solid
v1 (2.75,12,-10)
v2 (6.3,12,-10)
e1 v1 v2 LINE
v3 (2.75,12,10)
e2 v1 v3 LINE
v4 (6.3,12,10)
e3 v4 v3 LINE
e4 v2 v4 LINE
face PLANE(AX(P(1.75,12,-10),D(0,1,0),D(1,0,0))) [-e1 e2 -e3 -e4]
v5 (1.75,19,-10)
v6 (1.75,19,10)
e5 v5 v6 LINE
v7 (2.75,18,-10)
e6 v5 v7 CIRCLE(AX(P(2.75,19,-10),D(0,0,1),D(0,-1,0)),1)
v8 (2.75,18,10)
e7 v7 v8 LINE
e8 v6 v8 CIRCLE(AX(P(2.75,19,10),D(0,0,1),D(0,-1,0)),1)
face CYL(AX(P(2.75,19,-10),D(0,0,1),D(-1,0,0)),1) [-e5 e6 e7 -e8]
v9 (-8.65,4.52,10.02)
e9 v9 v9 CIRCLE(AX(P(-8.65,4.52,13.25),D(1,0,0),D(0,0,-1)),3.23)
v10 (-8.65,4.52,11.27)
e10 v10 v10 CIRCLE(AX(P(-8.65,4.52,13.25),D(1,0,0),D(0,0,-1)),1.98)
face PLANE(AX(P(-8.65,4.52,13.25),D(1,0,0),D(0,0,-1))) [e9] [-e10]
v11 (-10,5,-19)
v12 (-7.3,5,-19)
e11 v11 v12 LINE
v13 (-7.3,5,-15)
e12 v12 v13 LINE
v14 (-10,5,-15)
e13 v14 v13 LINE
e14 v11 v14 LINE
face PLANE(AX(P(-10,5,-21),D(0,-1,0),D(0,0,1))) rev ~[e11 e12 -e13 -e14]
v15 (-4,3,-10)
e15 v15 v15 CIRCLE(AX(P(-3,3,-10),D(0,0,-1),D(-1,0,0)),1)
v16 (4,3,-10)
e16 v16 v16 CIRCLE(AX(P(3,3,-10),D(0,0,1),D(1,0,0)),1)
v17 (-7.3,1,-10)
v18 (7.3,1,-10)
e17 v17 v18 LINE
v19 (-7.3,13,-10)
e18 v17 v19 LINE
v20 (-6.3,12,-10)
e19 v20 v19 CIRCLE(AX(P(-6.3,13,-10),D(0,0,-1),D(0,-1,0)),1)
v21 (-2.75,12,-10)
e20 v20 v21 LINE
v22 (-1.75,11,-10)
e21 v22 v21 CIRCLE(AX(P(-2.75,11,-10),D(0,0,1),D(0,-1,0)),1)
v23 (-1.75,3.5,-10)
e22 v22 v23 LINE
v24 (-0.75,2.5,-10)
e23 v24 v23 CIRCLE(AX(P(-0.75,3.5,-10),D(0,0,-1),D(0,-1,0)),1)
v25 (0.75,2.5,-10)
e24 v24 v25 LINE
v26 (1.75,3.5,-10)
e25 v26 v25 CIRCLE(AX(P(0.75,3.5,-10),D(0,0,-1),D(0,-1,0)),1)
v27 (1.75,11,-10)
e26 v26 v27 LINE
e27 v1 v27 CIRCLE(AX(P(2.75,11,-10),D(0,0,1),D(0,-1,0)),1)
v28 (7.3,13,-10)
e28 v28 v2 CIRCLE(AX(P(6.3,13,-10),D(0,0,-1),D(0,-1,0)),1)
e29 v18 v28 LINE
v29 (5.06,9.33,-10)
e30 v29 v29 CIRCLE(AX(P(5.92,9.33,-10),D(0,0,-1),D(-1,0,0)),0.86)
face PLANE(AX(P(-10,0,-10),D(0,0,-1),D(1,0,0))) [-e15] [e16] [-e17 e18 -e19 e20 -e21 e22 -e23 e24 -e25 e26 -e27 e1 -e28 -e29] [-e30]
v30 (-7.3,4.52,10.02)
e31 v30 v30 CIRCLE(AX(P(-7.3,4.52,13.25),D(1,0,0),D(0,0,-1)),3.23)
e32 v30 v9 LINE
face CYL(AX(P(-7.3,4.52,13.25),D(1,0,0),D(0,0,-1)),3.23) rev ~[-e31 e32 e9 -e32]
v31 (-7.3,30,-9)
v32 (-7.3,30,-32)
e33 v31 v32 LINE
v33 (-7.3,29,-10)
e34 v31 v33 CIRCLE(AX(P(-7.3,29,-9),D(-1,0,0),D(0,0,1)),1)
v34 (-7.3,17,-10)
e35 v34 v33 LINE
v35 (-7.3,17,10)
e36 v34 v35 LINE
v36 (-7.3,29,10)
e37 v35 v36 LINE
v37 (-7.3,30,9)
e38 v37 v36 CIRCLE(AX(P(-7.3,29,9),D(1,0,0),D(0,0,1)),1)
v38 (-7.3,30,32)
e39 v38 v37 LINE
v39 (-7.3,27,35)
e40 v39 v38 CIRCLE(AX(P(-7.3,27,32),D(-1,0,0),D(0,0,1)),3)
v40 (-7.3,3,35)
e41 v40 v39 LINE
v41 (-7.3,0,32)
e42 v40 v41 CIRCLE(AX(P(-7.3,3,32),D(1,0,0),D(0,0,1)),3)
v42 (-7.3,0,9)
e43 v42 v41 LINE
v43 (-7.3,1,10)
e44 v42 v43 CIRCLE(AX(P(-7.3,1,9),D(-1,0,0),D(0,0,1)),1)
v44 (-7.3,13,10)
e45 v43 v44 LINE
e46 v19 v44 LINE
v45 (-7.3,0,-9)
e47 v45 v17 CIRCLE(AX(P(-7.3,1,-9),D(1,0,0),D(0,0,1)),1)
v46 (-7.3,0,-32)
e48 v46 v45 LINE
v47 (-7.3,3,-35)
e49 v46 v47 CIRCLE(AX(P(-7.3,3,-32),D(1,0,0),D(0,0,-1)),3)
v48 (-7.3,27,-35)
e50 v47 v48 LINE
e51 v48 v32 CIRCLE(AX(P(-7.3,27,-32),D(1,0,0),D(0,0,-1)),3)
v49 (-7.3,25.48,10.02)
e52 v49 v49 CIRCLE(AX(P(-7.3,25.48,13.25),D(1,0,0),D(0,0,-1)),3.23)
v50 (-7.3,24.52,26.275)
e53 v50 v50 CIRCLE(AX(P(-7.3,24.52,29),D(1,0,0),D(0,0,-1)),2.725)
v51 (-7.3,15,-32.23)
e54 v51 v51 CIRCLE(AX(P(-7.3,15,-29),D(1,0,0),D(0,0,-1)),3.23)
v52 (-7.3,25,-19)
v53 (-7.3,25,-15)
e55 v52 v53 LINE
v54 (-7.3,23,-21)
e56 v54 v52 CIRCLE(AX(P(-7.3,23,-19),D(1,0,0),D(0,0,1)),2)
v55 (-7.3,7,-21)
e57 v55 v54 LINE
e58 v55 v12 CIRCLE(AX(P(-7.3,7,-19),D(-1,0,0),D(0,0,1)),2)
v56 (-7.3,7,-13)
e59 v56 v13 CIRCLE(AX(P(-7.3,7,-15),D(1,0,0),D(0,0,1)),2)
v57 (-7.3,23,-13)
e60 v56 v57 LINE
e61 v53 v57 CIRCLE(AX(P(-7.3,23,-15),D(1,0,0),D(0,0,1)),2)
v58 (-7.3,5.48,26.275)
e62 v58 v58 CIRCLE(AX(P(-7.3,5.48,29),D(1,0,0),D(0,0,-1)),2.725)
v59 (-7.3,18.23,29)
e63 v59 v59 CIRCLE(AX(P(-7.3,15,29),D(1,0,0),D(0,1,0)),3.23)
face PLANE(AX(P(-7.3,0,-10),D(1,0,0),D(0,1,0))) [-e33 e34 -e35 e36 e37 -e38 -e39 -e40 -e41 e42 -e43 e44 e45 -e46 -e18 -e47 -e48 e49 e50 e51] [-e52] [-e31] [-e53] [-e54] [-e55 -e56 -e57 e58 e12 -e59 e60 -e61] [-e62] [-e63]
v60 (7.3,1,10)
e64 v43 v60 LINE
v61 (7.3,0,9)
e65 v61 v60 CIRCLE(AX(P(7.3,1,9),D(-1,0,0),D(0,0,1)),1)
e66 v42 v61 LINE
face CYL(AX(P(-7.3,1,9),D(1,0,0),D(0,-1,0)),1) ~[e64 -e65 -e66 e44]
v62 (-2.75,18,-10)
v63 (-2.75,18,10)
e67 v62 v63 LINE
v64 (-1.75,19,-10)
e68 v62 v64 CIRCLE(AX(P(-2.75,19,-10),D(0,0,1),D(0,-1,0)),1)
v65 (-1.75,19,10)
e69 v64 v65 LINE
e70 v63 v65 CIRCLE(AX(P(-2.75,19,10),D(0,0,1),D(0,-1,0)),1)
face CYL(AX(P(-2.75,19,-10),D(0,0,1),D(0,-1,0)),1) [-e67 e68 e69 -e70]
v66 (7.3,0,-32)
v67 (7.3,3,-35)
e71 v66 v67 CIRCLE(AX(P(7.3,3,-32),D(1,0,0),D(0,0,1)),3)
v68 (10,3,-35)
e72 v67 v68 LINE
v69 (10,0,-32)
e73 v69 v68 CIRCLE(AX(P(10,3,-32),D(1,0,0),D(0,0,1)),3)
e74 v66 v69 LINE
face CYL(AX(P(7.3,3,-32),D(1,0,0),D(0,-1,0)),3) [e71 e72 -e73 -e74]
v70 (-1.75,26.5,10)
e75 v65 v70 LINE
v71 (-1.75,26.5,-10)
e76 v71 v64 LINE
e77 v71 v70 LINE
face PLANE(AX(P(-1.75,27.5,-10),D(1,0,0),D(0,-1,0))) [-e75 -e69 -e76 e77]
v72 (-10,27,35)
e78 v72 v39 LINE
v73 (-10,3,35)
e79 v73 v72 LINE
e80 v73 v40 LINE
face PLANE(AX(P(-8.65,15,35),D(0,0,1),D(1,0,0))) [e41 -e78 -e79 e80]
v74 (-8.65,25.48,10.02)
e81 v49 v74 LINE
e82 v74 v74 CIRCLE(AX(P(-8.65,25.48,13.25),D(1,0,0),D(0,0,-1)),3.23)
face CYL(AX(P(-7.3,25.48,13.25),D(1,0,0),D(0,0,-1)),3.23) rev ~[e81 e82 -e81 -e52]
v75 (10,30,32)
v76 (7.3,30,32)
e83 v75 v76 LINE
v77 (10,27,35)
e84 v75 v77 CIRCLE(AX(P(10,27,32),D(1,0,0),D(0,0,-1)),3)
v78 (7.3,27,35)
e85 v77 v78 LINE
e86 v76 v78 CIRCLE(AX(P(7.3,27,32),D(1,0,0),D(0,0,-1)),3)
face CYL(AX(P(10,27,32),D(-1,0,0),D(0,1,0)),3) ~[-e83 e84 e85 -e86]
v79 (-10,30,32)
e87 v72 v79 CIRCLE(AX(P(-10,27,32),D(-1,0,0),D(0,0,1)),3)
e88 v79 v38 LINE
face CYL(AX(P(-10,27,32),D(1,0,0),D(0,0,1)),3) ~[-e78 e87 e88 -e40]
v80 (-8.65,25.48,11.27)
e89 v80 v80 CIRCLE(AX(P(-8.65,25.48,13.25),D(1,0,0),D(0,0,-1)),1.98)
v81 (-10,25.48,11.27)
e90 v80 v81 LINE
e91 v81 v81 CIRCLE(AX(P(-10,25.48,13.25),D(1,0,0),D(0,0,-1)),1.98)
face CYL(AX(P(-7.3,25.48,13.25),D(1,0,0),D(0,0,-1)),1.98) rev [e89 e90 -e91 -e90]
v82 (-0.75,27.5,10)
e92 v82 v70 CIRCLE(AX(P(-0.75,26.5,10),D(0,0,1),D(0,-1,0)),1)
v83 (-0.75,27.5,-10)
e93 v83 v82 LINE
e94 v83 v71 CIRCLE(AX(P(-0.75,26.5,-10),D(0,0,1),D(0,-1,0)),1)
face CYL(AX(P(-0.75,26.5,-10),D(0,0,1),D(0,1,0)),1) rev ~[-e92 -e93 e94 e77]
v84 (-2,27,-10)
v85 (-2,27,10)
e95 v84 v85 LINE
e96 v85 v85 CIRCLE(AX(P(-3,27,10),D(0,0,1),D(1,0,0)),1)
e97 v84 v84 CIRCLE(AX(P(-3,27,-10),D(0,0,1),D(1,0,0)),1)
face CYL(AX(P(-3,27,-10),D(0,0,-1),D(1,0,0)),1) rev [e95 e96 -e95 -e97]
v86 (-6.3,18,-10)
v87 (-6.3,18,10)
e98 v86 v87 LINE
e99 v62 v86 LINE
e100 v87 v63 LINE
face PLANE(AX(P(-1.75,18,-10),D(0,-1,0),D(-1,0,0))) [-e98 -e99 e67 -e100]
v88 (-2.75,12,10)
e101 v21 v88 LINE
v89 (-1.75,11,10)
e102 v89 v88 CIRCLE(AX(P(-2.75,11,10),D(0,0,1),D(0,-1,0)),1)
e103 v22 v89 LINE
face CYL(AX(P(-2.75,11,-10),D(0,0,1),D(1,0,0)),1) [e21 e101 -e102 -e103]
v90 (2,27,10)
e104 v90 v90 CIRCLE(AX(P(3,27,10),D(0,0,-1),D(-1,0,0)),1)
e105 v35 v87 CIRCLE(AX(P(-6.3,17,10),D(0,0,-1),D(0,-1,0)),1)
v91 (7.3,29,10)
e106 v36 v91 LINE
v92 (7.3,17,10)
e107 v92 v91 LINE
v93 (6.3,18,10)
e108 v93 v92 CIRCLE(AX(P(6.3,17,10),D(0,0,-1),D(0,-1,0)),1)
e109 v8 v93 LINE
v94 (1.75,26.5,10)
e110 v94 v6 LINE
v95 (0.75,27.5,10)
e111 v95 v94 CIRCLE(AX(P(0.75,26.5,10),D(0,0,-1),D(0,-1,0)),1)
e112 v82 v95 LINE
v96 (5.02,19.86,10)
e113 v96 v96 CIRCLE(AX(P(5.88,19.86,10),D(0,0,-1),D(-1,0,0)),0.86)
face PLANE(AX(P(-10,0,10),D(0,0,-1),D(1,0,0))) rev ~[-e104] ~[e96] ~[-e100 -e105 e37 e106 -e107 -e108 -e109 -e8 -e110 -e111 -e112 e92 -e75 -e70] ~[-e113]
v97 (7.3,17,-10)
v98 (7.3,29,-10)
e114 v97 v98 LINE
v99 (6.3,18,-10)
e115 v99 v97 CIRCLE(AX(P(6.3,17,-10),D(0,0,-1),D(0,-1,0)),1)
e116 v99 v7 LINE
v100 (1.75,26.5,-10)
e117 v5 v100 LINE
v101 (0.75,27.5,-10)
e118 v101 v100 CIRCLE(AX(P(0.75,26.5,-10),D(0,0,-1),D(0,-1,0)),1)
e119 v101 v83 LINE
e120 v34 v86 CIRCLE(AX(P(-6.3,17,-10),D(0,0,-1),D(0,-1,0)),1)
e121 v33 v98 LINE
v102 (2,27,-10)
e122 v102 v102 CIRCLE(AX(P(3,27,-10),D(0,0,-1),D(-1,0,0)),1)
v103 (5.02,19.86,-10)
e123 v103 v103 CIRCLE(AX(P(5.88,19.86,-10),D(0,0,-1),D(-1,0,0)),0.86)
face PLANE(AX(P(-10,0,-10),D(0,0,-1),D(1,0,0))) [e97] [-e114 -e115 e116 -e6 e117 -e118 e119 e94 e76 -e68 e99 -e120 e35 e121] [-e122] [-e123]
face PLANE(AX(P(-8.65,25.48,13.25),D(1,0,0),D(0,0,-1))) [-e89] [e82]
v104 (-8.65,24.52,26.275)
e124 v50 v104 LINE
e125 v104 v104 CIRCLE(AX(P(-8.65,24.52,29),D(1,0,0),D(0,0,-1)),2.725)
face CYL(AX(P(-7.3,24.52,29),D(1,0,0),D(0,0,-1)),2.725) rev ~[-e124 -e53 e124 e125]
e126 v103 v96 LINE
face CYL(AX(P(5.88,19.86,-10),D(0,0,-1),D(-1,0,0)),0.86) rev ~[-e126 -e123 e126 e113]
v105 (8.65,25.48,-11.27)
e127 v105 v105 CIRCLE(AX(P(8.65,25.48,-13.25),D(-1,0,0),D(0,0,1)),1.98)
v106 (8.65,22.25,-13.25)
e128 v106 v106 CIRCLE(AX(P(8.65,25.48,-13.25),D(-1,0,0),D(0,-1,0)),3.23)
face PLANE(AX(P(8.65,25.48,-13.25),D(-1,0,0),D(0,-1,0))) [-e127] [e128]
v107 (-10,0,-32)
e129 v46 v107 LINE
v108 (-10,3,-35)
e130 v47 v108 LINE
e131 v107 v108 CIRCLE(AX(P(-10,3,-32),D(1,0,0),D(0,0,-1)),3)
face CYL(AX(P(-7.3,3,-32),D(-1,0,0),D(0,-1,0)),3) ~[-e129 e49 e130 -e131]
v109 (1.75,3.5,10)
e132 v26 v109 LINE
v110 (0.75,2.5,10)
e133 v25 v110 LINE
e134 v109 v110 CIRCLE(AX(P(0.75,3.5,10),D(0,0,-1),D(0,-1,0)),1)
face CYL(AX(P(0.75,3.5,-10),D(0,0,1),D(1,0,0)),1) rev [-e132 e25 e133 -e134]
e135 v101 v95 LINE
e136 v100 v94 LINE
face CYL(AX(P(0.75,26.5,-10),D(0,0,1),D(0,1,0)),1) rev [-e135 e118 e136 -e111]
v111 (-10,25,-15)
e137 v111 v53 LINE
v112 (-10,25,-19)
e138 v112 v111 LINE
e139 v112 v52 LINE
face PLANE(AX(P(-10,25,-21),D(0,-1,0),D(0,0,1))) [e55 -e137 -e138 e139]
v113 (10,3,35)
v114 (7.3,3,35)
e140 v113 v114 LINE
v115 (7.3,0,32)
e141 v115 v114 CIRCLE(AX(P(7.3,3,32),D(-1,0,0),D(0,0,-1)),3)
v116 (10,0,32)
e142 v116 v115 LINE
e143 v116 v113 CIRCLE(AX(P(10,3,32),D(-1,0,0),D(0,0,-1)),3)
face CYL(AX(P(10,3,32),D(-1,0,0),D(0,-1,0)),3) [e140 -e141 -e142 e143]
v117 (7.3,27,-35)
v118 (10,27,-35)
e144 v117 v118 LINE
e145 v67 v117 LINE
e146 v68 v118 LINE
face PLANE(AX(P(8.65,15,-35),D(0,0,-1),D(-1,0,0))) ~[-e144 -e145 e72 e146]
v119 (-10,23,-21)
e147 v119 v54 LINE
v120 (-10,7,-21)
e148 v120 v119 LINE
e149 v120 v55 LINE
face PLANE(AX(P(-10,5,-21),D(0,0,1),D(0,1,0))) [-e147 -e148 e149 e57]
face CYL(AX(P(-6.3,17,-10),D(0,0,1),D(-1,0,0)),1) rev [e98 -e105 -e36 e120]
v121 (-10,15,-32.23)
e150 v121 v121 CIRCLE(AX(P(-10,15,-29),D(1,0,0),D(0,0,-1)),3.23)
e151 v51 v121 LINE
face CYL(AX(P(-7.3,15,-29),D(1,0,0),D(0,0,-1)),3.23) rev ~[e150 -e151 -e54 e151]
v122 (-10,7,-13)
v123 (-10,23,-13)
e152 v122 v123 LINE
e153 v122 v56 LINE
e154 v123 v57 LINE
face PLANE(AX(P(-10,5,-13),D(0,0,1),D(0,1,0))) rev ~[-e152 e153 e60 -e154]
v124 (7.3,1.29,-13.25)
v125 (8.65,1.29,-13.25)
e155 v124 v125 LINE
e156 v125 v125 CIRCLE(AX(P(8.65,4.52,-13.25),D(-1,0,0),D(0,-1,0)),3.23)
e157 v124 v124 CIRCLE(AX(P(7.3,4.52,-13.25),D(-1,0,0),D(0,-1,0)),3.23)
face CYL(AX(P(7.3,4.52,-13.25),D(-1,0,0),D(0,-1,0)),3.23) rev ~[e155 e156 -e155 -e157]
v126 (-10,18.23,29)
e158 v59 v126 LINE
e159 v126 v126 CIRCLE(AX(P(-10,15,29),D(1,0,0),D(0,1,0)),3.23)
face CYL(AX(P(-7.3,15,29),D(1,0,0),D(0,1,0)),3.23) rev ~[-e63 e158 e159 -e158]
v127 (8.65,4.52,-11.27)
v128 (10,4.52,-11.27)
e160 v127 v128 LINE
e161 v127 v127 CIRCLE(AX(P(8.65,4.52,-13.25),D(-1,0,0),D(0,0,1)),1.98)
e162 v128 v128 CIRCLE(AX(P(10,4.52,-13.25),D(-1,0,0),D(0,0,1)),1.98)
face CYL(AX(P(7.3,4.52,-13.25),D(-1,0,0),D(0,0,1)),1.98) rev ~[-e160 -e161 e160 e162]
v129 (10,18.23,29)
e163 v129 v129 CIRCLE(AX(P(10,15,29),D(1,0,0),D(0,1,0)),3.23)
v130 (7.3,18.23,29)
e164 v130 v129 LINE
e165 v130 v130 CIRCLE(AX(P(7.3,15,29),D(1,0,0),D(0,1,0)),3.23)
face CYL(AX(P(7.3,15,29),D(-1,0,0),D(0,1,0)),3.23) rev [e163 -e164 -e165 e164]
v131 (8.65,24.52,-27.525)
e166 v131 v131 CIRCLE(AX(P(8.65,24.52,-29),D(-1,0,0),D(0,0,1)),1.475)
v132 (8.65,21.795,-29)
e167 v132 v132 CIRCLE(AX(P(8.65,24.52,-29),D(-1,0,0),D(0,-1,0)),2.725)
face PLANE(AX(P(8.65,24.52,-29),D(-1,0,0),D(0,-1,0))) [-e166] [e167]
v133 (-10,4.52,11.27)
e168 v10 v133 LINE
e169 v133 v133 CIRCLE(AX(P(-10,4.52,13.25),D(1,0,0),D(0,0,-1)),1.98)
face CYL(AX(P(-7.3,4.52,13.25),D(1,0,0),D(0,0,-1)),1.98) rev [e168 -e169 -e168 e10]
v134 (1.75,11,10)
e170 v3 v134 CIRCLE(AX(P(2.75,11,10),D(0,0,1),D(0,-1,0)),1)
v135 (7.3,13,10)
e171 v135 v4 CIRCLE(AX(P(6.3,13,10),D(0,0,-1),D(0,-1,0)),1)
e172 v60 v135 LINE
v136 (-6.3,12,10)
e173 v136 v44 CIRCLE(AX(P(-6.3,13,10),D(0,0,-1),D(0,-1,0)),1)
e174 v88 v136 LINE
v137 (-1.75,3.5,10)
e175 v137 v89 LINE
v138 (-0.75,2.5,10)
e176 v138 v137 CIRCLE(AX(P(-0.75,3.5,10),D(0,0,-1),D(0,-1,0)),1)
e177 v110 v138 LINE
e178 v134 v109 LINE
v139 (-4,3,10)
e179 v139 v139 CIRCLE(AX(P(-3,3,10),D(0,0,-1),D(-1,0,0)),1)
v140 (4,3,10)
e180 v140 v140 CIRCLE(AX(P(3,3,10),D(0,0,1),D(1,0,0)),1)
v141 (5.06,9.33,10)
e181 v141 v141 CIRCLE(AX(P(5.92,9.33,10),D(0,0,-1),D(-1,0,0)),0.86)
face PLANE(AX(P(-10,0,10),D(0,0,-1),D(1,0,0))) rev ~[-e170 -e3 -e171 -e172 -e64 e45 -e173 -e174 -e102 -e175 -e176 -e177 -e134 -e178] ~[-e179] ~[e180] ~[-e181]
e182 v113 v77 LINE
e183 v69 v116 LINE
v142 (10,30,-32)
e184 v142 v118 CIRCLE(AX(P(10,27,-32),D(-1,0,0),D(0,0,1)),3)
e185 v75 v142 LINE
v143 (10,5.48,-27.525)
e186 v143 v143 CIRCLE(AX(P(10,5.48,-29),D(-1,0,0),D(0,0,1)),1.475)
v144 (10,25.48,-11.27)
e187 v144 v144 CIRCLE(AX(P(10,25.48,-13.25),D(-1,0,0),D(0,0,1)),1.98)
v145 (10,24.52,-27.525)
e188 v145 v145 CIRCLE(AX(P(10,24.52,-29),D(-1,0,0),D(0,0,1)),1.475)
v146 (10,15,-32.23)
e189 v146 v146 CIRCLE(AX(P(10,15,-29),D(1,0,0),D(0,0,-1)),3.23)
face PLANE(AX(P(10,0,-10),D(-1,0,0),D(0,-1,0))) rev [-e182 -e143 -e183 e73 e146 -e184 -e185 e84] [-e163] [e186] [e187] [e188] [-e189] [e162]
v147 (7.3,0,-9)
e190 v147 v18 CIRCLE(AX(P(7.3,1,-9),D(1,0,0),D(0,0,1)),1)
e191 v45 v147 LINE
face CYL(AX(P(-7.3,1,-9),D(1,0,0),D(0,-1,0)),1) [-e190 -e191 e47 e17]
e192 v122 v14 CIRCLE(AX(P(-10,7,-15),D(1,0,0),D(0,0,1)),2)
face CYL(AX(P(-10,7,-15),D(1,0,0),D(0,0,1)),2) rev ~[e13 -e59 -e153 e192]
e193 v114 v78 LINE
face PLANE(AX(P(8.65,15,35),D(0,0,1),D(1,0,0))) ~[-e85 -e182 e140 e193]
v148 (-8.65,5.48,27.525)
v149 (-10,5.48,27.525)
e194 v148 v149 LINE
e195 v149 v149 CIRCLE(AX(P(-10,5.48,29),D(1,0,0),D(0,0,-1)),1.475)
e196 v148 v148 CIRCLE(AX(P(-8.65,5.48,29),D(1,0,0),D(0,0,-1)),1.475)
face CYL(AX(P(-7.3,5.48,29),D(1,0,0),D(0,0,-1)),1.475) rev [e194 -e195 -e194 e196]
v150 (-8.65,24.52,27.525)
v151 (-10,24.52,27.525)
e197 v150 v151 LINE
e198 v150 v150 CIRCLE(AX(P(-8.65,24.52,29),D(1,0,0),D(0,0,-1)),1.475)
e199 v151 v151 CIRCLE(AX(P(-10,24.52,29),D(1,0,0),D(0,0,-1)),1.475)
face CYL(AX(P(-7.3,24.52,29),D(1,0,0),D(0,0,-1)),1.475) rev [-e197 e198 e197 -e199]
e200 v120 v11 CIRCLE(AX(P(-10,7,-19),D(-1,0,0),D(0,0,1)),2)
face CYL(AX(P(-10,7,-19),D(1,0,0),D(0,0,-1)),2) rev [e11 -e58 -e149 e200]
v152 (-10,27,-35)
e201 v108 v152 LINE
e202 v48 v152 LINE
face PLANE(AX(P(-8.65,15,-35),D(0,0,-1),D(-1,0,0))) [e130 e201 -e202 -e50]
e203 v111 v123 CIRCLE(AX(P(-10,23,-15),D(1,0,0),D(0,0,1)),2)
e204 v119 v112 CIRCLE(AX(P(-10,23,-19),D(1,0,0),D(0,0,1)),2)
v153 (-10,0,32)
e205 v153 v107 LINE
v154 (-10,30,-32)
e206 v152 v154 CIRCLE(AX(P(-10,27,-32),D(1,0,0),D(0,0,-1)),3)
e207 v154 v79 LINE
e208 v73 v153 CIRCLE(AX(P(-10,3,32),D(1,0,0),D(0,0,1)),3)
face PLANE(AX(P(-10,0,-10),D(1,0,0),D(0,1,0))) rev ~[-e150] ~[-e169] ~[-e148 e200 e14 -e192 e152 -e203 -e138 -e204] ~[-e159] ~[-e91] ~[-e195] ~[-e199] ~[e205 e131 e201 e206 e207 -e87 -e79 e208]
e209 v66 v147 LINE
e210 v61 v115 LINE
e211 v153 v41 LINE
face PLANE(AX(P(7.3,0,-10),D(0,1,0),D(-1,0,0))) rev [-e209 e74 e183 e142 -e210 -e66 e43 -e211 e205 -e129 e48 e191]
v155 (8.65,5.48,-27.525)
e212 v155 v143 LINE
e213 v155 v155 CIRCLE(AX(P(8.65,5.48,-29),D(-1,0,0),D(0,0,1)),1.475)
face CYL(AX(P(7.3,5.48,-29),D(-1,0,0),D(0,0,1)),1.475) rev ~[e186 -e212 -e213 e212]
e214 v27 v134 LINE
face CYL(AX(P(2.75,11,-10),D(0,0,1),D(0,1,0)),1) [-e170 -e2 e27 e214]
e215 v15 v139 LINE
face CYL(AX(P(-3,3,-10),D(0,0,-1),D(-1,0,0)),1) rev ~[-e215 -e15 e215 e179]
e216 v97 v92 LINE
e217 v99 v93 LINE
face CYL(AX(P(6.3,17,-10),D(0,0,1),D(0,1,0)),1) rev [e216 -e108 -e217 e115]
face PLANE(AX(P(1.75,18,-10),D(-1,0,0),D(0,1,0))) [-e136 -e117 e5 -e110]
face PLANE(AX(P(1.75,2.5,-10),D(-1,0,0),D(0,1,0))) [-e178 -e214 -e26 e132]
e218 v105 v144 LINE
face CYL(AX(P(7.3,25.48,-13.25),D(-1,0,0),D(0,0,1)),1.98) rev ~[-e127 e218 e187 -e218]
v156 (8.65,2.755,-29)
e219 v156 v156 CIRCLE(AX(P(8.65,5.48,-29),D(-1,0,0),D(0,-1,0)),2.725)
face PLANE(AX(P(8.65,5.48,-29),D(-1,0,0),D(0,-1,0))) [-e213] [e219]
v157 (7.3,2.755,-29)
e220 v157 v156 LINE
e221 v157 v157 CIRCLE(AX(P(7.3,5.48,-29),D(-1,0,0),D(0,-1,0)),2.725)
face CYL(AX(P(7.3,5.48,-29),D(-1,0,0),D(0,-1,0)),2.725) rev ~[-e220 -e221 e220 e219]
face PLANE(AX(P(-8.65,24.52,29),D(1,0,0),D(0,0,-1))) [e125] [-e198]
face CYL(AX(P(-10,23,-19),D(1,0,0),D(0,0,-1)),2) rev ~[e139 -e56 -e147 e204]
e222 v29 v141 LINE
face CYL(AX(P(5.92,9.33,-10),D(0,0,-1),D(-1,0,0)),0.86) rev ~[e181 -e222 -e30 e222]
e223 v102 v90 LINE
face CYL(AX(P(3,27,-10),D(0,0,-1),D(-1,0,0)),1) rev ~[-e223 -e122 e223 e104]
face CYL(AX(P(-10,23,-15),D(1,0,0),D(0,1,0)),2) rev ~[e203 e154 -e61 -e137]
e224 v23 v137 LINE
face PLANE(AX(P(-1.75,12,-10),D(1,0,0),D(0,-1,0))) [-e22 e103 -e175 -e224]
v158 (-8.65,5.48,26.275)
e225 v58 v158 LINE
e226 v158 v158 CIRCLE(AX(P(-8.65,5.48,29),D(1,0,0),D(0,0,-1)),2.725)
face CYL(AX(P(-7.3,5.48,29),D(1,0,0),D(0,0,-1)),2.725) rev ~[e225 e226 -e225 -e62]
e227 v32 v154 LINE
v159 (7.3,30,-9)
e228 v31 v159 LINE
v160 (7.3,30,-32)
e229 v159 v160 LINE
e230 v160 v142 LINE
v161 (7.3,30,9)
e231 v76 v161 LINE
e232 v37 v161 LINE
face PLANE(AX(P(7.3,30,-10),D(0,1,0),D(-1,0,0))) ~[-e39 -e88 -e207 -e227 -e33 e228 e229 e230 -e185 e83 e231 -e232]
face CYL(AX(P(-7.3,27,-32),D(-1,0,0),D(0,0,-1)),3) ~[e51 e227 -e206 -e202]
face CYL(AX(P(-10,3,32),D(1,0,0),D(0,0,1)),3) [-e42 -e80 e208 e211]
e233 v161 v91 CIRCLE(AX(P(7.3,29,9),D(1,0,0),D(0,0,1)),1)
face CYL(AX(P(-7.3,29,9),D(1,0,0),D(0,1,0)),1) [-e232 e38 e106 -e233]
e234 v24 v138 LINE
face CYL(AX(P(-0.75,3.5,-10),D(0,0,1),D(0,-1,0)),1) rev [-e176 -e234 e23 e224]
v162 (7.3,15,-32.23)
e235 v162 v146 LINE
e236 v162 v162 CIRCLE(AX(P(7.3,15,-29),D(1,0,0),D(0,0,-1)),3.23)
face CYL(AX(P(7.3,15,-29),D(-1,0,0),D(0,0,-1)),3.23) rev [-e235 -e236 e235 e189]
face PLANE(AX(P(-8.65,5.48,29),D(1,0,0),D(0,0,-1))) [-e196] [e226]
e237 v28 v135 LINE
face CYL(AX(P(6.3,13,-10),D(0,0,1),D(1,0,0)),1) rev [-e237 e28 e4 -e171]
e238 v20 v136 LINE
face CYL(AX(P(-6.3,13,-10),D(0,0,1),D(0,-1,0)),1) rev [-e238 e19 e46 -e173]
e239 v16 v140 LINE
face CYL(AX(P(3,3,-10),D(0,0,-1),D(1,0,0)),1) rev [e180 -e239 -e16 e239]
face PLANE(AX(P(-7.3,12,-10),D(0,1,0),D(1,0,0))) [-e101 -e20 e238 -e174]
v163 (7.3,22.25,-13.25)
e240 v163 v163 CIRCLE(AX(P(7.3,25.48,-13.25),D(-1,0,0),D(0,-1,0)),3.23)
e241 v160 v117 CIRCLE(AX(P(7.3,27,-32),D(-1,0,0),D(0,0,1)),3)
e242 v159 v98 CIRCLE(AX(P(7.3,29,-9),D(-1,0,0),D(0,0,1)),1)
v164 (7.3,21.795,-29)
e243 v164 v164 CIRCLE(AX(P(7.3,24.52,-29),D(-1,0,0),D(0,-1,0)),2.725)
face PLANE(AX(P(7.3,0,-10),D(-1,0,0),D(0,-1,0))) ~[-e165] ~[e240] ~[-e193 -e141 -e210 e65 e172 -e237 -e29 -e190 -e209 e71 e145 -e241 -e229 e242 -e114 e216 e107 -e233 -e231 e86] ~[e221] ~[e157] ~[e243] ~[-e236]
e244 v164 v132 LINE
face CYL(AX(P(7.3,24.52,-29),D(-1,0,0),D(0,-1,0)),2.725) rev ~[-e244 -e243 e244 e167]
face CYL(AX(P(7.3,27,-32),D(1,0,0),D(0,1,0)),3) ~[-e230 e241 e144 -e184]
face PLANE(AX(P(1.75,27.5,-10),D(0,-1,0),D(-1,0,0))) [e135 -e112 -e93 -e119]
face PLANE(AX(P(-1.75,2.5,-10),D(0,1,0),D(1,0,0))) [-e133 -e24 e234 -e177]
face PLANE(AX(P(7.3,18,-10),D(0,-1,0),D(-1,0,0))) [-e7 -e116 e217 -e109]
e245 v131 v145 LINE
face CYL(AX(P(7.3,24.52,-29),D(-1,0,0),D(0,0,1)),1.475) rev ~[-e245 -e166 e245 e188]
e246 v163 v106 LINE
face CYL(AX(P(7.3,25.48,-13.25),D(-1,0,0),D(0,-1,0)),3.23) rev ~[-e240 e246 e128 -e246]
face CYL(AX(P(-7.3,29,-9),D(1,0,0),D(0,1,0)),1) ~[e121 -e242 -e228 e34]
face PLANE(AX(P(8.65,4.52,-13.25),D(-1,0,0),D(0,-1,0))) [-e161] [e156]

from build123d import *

# Parameters (mm, degrees)
SKETCH1_W             = 20
SKETCH1_H             = 20
BOSS_EXTRUDE3_DEPTH   = 30
CUT_EXTRUDE11_REACH   = 39.417
SKETCH10_R            = 0.86
FILLET4_R             = 1
SKETCH12_W            = 2.7
SKETCH12_H            = 30
BOSS_EXTRUDE13_DEPTH  = 25
CUT_EXTRUDE13_REACH   = 51.237
SKETCH14_R            = 3.23
FILLET6_R             = 3
SKETCH16_W            = 2.7
SKETCH16_H            = 30
BOSS_EXTRUDE14_DEPTH  = 25
CUT_EXTRUDE14_REACH   = 51.237
SKETCH17_R            = 3.23
FILLET11_R            = 3
FILLET6_OF_MIRROR1_R  = 3
FILLET11_OF_MIRROR1_R = 3
FILLET12_R            = 1
CUT_EXTRUDE15_REACH   = 57
SKETCH18_R            = 1
CUT_EXTRUDE16_REACH   = 51.237
SKETCH20_R            = 1.98
SKETCH20_R_2          = 1.475
CUT_EXTRUDE17_REACH   = 56.668
SKETCH21_R            = 1.98
SKETCH21_R_2          = 1.475
SKETCH22_R            = 2.725
SKETCH22_R_2          = 3.23
CUT_EXTRUDE18_DEPTH   = 1.35
SKETCH23_R            = 2.725
SKETCH23_R_2          = 3.23
CUT_EXTRUDE19_DEPTH   = 1.35
CUT_EXTRUDE20_REACH   = 52.249
SKETCH24_W            = 8
SKETCH24_H            = 20
FILLET13_R            = 2


with BuildPart() as part:
    # Sketch1 → Boss-Extrude3 (new body)
    with BuildSketch(Plane(origin=(0, 0, 0), x_dir=(1, 0, 0), z_dir=(0, 1, 0))):
        Rectangle(SKETCH1_W, SKETCH1_H)
    extrude(amount=BOSS_EXTRUDE3_DEPTH)

    # Sketch10 → Cut-Extrude11 (cut, up to next)
    with BuildSketch(Plane(origin=(0, 0, -10), x_dir=(-1, 0, 0), z_dir=(0, 0, -1)), mode=Mode.PRIVATE) as cut_extrude11_sk1:
        with Locations((-5.88, 19.86)):
            Circle(SKETCH10_R)
    cut_extrude11_tool1 = extrude(cut_extrude11_sk1.sketch, amount=-CUT_EXTRUDE11_REACH, mode=Mode.PRIVATE) & part.part
    # Sketch10 → Cut-Extrude11 (cut, up to next)
    with BuildSketch(Plane(origin=(0, 0, -10), x_dir=(-1, 0, 0), z_dir=(0, 0, -1)), mode=Mode.PRIVATE) as cut_extrude11_sk2:
        with Locations((-5.92, 9.33)):
            Circle(SKETCH10_R)
    cut_extrude11_tool2 = extrude(cut_extrude11_sk2.sketch, amount=-CUT_EXTRUDE11_REACH, mode=Mode.PRIVATE) & part.part
    # Sketch10 → Cut-Extrude11 (cut, up to next)
    with BuildSketch(Plane(origin=(0, 0, -10), x_dir=(-1, 0, 0), z_dir=(0, 0, -1)), mode=Mode.PRIVATE) as cut_extrude11_sk3:
        Polygon((-1.75, 27.5), (1.75, 27.5), (1.75, 18), (7.3, 18), (7.3, 12), (1.75, 12), (1.75, 2.5), (-1.75, 2.5), (-1.75, 12), (-7.3, 12), (-7.3, 18), (-1.75, 18), align=None)
    cut_extrude11_tool3 = extrude(cut_extrude11_sk3.sketch, amount=-CUT_EXTRUDE11_REACH, mode=Mode.PRIVATE) & part.part
    add(cut_extrude11_tool1.solids().sort_by_distance((5.88, 19.86, -10))[0], mode=Mode.SUBTRACT)
    add(cut_extrude11_tool2.solids().sort_by_distance((5.92, 9.33, -10))[0], mode=Mode.SUBTRACT)
    add(cut_extrude11_tool3.solids().sort_by_distance((0, 15, -10))[0], mode=Mode.SUBTRACT)

    # Fillet4
    fillet4_edges = [part.edges().sort_by_distance(p)[0] for p in [
        (-1.75, 2.5, 0),
        (1.75, 2.5, 0),
        (1.75, 12, 0),
        (7.3, 12, 0),
        (7.3, 18, 0),
        (1.75, 18, 0),
        (1.75, 27.5, 0),
        (-1.75, 27.5, 0),
        (-1.75, 18, 0),
        (-7.3, 18, 0),
        (-7.3, 12, 0),
        (-1.75, 12, 0),
    ]]
    fillet(fillet4_edges, radius=FILLET4_R)

    # Sketch12 → Boss-Extrude13 (add)
    with BuildSketch(Plane.XY.offset(10)):
        with Locations((-8.65, 15)):
            Rectangle(SKETCH12_W, SKETCH12_H)
    boss_extrude13 = extrude(amount=BOSS_EXTRUDE13_DEPTH)

    # Sketch14 → Cut-Extrude13 (cut, up to next)
    with BuildSketch(Plane(origin=(-7.3, 0, 0), x_dir=(0, 0, -1), z_dir=(1, 0, 0)), mode=Mode.PRIVATE) as cut_extrude13_sk1:
        with Locations(Location((-29, 15, 0), (0, 0, 90))):
            Circle(SKETCH14_R)
    cut_extrude13_tool1 = extrude(cut_extrude13_sk1.sketch, amount=-CUT_EXTRUDE13_REACH, mode=Mode.PRIVATE) & part.part
    cut_extrude13 = cut_extrude13_tool1.solids().sort_by_distance((-7.3, 15, 29))[0]
    add(cut_extrude13, mode=Mode.SUBTRACT)

    # Fillet6
    fillet6_edges = [part.edges().sort_by_distance(p)[0] for p in [
        (-8.65, 0, 35),
        (-8.65, 30, 35),
    ]]
    fillet(fillet6_edges, radius=FILLET6_R)

    # Sketch16 → Boss-Extrude14 (add)
    with BuildSketch(Plane(origin=(0, 0, -10), x_dir=(-1, 0, 0), z_dir=(0, 0, -1))):
        with Locations((8.65, 15)):
            Rectangle(SKETCH16_W, SKETCH16_H)
    boss_extrude14 = extrude(amount=BOSS_EXTRUDE14_DEPTH)

    # Sketch17 → Cut-Extrude14 (cut, up to next)
    with BuildSketch(Plane(origin=(-7.3, 0, 0), x_dir=(0, 0, -1), z_dir=(1, 0, 0)), mode=Mode.PRIVATE) as cut_extrude14_sk1:
        with Locations((29, 15)):
            Circle(SKETCH17_R)
    cut_extrude14_tool1 = extrude(cut_extrude14_sk1.sketch, amount=-CUT_EXTRUDE14_REACH, mode=Mode.PRIVATE) & part.part
    cut_extrude14 = cut_extrude14_tool1.solids().sort_by_distance((-7.3, 15, -29))[0]
    add(cut_extrude14, mode=Mode.SUBTRACT)

    # Fillet11
    fillet11_edges = [part.edges().sort_by_distance(p)[0] for p in [
        (-8.65, 30, -35),
        (-8.65, 0, -35),
    ]]
    fillet(fillet11_edges, radius=FILLET11_R)

    # Mirror1: Boss-Extrude13, Cut-Extrude13, Boss-Extrude14, Cut-Extrude14 across plane
    add(boss_extrude13.mirror(Plane(origin=(0, 0, 0), x_dir=(0, 0, 1), z_dir=(1, 0, 0))))
    add(cut_extrude13.mirror(Plane(origin=(0, 0, 0), x_dir=(0, 0, 1), z_dir=(1, 0, 0))), mode=Mode.SUBTRACT)
    add(boss_extrude14.mirror(Plane(origin=(0, 0, 0), x_dir=(0, 0, 1), z_dir=(1, 0, 0))))
    add(cut_extrude14.mirror(Plane(origin=(0, 0, 0), x_dir=(0, 0, 1), z_dir=(1, 0, 0))), mode=Mode.SUBTRACT)

    # Fillet6 of Mirror1
    fillet6_of_mirror1_edges = [part.edges().sort_by_distance(p)[0] for p in [
        (8.65, 0, 35),
        (8.65, 30, 35),
    ]]
    fillet(fillet6_of_mirror1_edges, radius=FILLET6_OF_MIRROR1_R)

    # Fillet11 of Mirror1
    fillet11_of_mirror1_edges = [part.edges().sort_by_distance(p)[0] for p in [
        (8.65, 30, -35),
        (8.65, 0, -35),
    ]]
    fillet(fillet11_of_mirror1_edges, radius=FILLET11_OF_MIRROR1_R)

    # Fillet12
    fillet12_edges = [part.edges().sort_by_distance(p)[0] for p in [
        (0, 0, 10),
        (0, 30, 10),
        (0, 0, -10),
        (0, 30, -10),
    ]]
    fillet(fillet12_edges, radius=FILLET12_R)

    # Sketch18 → Cut-Extrude15 (cut, up to next)
    with BuildSketch(Plane(origin=(0, 0, -10), x_dir=(-1, 0, 0), z_dir=(0, 0, -1)), mode=Mode.PRIVATE) as cut_extrude15_sk1:
        with Locations((-3, 27)):
            Circle(SKETCH18_R)
    cut_extrude15_tool1 = extrude(cut_extrude15_sk1.sketch, amount=-CUT_EXTRUDE15_REACH, mode=Mode.PRIVATE) & part.part
    # Sketch18 → Cut-Extrude15 (cut, up to next)
    with BuildSketch(Plane(origin=(0, 0, -10), x_dir=(-1, 0, 0), z_dir=(0, 0, -1)), mode=Mode.PRIVATE) as cut_extrude15_sk2:
        with Locations((3, 3)):
            Circle(SKETCH18_R)
    cut_extrude15_tool2 = extrude(cut_extrude15_sk2.sketch, amount=-CUT_EXTRUDE15_REACH, mode=Mode.PRIVATE) & part.part
    cut_extrude15_1 = cut_extrude15_tool1.solids().sort_by_distance((3, 27, -10))[0]
    add(cut_extrude15_1, mode=Mode.SUBTRACT)
    cut_extrude15_2 = cut_extrude15_tool2.solids().sort_by_distance((-3, 3, -10))[0]
    add(cut_extrude15_2, mode=Mode.SUBTRACT)
    cut_extrude15 = cut_extrude15_1 + cut_extrude15_2  # Cut-Extrude15 as one shape, for the pattern or mirror that repeats it

    # Mirror2: Cut-Extrude15 across plane
    add(cut_extrude15.mirror(Plane(origin=(0, 0, 0), x_dir=(0, 0, 1), z_dir=(1, 0, 0))), mode=Mode.SUBTRACT)

    # Sketch20 → Cut-Extrude16 (cut, up to next)
    with BuildSketch(Plane.ZY.offset(-7.3), mode=Mode.PRIVATE) as cut_extrude16_sk1:
        with Locations((-13.25, 25.48)):
            Circle(SKETCH20_R)
    cut_extrude16_tool1 = extrude(cut_extrude16_sk1.sketch, amount=-CUT_EXTRUDE16_REACH, mode=Mode.PRIVATE) & part.part
    # Sketch20 → Cut-Extrude16 (cut, up to next)
    with BuildSketch(Plane.ZY.offset(-7.3), mode=Mode.PRIVATE) as cut_extrude16_sk2:
        with Locations((-13.25, 4.52)):
            Circle(SKETCH20_R)
    cut_extrude16_tool2 = extrude(cut_extrude16_sk2.sketch, amount=-CUT_EXTRUDE16_REACH, mode=Mode.PRIVATE) & part.part
    # Sketch20 → Cut-Extrude16 (cut, up to next)
    with BuildSketch(Plane.ZY.offset(-7.3), mode=Mode.PRIVATE) as cut_extrude16_sk3:
        with Locations((-29, 5.48)):
            Circle(SKETCH20_R_2)
    cut_extrude16_tool3 = extrude(cut_extrude16_sk3.sketch, amount=-CUT_EXTRUDE16_REACH, mode=Mode.PRIVATE) & part.part
    # Sketch20 → Cut-Extrude16 (cut, up to next)
    with BuildSketch(Plane.ZY.offset(-7.3), mode=Mode.PRIVATE) as cut_extrude16_sk4:
        with Locations((-29, 24.52)):
            Circle(SKETCH20_R_2)
    cut_extrude16_tool4 = extrude(cut_extrude16_sk4.sketch, amount=-CUT_EXTRUDE16_REACH, mode=Mode.PRIVATE) & part.part
    add(cut_extrude16_tool1.solids().sort_by_distance((7.3, 25.48, -13.25))[0], mode=Mode.SUBTRACT)
    add(cut_extrude16_tool2.solids().sort_by_distance((7.3, 4.52, -13.25))[0], mode=Mode.SUBTRACT)
    add(cut_extrude16_tool3.solids().sort_by_distance((7.3, 5.48, -29))[0], mode=Mode.SUBTRACT)
    add(cut_extrude16_tool4.solids().sort_by_distance((7.3, 24.52, -29))[0], mode=Mode.SUBTRACT)

    # Sketch21 → Cut-Extrude17 (cut, up to next)
    with BuildSketch(Plane(origin=(-7.3, 0, 7.3), x_dir=(0, 0, 1), z_dir=(-1, 0, 0)), mode=Mode.PRIVATE) as cut_extrude17_sk1:
        with Locations(Location((5.95, 25.48, 0), (0, 0, 180))):
            Circle(SKETCH21_R)
    cut_extrude17_tool1 = extrude(cut_extrude17_sk1.sketch, amount=CUT_EXTRUDE17_REACH, mode=Mode.PRIVATE) & part.part
    # Sketch21 → Cut-Extrude17 (cut, up to next)
    with BuildSketch(Plane(origin=(-7.3, 0, 7.3), x_dir=(0, 0, 1), z_dir=(-1, 0, 0)), mode=Mode.PRIVATE) as cut_extrude17_sk2:
        with Locations(Location((5.95, 4.52, 0), (0, 0, 180))):
            Circle(SKETCH21_R)
    cut_extrude17_tool2 = extrude(cut_extrude17_sk2.sketch, amount=CUT_EXTRUDE17_REACH, mode=Mode.PRIVATE) & part.part
    # Sketch21 → Cut-Extrude17 (cut, up to next)
    with BuildSketch(Plane(origin=(-7.3, 0, 7.3), x_dir=(0, 0, 1), z_dir=(-1, 0, 0)), mode=Mode.PRIVATE) as cut_extrude17_sk3:
        with Locations(Location((21.7, 5.48, 0), (0, 0, 180))):
            Circle(SKETCH21_R_2)
    cut_extrude17_tool3 = extrude(cut_extrude17_sk3.sketch, amount=CUT_EXTRUDE17_REACH, mode=Mode.PRIVATE) & part.part
    # Sketch21 → Cut-Extrude17 (cut, up to next)
    with BuildSketch(Plane(origin=(-7.3, 0, 7.3), x_dir=(0, 0, 1), z_dir=(-1, 0, 0)), mode=Mode.PRIVATE) as cut_extrude17_sk4:
        with Locations(Location((21.7, 24.52, 0), (0, 0, 180))):
            Circle(SKETCH21_R_2)
    cut_extrude17_tool4 = extrude(cut_extrude17_sk4.sketch, amount=CUT_EXTRUDE17_REACH, mode=Mode.PRIVATE) & part.part
    add(cut_extrude17_tool1.solids().sort_by_distance((-7.3, 25.48, 13.25))[0], mode=Mode.SUBTRACT)
    add(cut_extrude17_tool2.solids().sort_by_distance((-7.3, 4.52, 13.25))[0], mode=Mode.SUBTRACT)
    add(cut_extrude17_tool3.solids().sort_by_distance((-7.3, 5.48, 29))[0], mode=Mode.SUBTRACT)
    add(cut_extrude17_tool4.solids().sort_by_distance((-7.3, 24.52, 29))[0], mode=Mode.SUBTRACT)

    # Sketch22 → Cut-Extrude18 (cut)
    with BuildSketch(Plane.ZY.offset(-7.3)):
        with Locations(Location((-29, 24.52, 0), (0, 0, 270))):
            Circle(SKETCH22_R)
        with Locations(Location((-13.25, 25.48, 0), (0, 0, 270))):
            Circle(SKETCH22_R_2)
        with Locations(Location((-13.25, 4.52, 0), (0, 0, 270))):
            Circle(SKETCH22_R_2)
        with Locations(Location((-29, 5.48, 0), (0, 0, 270))):
            Circle(SKETCH22_R)
    extrude(amount=-CUT_EXTRUDE18_DEPTH, mode=Mode.SUBTRACT)

    # Sketch23 → Cut-Extrude19 (cut)
    with BuildSketch(Plane(origin=(-7.3, 0, 0), x_dir=(0, 0, -1), z_dir=(1, 0, 0))):
        with Locations((-29, 24.52)):
            Circle(SKETCH23_R)
        with Locations((-13.25, 25.48)):
            Circle(SKETCH23_R_2)
        with Locations((-29, 5.48)):
            Circle(SKETCH23_R)
        with Locations((-13.25, 4.52)):
            Circle(SKETCH23_R_2)
    extrude(amount=-CUT_EXTRUDE19_DEPTH, mode=Mode.SUBTRACT)

    # Sketch24 → Cut-Extrude20 (cut, up to next)
    with BuildSketch(Plane.ZY.offset(10), mode=Mode.PRIVATE) as cut_extrude20_sk1:
        with Locations((-17, 15)):
            Rectangle(SKETCH24_W, SKETCH24_H)
    cut_extrude20_tool1 = extrude(cut_extrude20_sk1.sketch, amount=-CUT_EXTRUDE20_REACH, mode=Mode.PRIVATE) & part.part
    add(cut_extrude20_tool1.solids().sort_by_distance((-10, 15, -17))[0], mode=Mode.SUBTRACT)

    # Fillet13
    fillet13_edges = [part.edges().sort_by_distance(p)[0] for p in [
        (-8.65, 25, -13),
        (-8.65, 5, -13),
        (-8.65, 5, -21),
        (-8.65, 25, -21),
    ]]
    fillet(fillet13_edges, radius=FILLET13_R)


solid = part.part
